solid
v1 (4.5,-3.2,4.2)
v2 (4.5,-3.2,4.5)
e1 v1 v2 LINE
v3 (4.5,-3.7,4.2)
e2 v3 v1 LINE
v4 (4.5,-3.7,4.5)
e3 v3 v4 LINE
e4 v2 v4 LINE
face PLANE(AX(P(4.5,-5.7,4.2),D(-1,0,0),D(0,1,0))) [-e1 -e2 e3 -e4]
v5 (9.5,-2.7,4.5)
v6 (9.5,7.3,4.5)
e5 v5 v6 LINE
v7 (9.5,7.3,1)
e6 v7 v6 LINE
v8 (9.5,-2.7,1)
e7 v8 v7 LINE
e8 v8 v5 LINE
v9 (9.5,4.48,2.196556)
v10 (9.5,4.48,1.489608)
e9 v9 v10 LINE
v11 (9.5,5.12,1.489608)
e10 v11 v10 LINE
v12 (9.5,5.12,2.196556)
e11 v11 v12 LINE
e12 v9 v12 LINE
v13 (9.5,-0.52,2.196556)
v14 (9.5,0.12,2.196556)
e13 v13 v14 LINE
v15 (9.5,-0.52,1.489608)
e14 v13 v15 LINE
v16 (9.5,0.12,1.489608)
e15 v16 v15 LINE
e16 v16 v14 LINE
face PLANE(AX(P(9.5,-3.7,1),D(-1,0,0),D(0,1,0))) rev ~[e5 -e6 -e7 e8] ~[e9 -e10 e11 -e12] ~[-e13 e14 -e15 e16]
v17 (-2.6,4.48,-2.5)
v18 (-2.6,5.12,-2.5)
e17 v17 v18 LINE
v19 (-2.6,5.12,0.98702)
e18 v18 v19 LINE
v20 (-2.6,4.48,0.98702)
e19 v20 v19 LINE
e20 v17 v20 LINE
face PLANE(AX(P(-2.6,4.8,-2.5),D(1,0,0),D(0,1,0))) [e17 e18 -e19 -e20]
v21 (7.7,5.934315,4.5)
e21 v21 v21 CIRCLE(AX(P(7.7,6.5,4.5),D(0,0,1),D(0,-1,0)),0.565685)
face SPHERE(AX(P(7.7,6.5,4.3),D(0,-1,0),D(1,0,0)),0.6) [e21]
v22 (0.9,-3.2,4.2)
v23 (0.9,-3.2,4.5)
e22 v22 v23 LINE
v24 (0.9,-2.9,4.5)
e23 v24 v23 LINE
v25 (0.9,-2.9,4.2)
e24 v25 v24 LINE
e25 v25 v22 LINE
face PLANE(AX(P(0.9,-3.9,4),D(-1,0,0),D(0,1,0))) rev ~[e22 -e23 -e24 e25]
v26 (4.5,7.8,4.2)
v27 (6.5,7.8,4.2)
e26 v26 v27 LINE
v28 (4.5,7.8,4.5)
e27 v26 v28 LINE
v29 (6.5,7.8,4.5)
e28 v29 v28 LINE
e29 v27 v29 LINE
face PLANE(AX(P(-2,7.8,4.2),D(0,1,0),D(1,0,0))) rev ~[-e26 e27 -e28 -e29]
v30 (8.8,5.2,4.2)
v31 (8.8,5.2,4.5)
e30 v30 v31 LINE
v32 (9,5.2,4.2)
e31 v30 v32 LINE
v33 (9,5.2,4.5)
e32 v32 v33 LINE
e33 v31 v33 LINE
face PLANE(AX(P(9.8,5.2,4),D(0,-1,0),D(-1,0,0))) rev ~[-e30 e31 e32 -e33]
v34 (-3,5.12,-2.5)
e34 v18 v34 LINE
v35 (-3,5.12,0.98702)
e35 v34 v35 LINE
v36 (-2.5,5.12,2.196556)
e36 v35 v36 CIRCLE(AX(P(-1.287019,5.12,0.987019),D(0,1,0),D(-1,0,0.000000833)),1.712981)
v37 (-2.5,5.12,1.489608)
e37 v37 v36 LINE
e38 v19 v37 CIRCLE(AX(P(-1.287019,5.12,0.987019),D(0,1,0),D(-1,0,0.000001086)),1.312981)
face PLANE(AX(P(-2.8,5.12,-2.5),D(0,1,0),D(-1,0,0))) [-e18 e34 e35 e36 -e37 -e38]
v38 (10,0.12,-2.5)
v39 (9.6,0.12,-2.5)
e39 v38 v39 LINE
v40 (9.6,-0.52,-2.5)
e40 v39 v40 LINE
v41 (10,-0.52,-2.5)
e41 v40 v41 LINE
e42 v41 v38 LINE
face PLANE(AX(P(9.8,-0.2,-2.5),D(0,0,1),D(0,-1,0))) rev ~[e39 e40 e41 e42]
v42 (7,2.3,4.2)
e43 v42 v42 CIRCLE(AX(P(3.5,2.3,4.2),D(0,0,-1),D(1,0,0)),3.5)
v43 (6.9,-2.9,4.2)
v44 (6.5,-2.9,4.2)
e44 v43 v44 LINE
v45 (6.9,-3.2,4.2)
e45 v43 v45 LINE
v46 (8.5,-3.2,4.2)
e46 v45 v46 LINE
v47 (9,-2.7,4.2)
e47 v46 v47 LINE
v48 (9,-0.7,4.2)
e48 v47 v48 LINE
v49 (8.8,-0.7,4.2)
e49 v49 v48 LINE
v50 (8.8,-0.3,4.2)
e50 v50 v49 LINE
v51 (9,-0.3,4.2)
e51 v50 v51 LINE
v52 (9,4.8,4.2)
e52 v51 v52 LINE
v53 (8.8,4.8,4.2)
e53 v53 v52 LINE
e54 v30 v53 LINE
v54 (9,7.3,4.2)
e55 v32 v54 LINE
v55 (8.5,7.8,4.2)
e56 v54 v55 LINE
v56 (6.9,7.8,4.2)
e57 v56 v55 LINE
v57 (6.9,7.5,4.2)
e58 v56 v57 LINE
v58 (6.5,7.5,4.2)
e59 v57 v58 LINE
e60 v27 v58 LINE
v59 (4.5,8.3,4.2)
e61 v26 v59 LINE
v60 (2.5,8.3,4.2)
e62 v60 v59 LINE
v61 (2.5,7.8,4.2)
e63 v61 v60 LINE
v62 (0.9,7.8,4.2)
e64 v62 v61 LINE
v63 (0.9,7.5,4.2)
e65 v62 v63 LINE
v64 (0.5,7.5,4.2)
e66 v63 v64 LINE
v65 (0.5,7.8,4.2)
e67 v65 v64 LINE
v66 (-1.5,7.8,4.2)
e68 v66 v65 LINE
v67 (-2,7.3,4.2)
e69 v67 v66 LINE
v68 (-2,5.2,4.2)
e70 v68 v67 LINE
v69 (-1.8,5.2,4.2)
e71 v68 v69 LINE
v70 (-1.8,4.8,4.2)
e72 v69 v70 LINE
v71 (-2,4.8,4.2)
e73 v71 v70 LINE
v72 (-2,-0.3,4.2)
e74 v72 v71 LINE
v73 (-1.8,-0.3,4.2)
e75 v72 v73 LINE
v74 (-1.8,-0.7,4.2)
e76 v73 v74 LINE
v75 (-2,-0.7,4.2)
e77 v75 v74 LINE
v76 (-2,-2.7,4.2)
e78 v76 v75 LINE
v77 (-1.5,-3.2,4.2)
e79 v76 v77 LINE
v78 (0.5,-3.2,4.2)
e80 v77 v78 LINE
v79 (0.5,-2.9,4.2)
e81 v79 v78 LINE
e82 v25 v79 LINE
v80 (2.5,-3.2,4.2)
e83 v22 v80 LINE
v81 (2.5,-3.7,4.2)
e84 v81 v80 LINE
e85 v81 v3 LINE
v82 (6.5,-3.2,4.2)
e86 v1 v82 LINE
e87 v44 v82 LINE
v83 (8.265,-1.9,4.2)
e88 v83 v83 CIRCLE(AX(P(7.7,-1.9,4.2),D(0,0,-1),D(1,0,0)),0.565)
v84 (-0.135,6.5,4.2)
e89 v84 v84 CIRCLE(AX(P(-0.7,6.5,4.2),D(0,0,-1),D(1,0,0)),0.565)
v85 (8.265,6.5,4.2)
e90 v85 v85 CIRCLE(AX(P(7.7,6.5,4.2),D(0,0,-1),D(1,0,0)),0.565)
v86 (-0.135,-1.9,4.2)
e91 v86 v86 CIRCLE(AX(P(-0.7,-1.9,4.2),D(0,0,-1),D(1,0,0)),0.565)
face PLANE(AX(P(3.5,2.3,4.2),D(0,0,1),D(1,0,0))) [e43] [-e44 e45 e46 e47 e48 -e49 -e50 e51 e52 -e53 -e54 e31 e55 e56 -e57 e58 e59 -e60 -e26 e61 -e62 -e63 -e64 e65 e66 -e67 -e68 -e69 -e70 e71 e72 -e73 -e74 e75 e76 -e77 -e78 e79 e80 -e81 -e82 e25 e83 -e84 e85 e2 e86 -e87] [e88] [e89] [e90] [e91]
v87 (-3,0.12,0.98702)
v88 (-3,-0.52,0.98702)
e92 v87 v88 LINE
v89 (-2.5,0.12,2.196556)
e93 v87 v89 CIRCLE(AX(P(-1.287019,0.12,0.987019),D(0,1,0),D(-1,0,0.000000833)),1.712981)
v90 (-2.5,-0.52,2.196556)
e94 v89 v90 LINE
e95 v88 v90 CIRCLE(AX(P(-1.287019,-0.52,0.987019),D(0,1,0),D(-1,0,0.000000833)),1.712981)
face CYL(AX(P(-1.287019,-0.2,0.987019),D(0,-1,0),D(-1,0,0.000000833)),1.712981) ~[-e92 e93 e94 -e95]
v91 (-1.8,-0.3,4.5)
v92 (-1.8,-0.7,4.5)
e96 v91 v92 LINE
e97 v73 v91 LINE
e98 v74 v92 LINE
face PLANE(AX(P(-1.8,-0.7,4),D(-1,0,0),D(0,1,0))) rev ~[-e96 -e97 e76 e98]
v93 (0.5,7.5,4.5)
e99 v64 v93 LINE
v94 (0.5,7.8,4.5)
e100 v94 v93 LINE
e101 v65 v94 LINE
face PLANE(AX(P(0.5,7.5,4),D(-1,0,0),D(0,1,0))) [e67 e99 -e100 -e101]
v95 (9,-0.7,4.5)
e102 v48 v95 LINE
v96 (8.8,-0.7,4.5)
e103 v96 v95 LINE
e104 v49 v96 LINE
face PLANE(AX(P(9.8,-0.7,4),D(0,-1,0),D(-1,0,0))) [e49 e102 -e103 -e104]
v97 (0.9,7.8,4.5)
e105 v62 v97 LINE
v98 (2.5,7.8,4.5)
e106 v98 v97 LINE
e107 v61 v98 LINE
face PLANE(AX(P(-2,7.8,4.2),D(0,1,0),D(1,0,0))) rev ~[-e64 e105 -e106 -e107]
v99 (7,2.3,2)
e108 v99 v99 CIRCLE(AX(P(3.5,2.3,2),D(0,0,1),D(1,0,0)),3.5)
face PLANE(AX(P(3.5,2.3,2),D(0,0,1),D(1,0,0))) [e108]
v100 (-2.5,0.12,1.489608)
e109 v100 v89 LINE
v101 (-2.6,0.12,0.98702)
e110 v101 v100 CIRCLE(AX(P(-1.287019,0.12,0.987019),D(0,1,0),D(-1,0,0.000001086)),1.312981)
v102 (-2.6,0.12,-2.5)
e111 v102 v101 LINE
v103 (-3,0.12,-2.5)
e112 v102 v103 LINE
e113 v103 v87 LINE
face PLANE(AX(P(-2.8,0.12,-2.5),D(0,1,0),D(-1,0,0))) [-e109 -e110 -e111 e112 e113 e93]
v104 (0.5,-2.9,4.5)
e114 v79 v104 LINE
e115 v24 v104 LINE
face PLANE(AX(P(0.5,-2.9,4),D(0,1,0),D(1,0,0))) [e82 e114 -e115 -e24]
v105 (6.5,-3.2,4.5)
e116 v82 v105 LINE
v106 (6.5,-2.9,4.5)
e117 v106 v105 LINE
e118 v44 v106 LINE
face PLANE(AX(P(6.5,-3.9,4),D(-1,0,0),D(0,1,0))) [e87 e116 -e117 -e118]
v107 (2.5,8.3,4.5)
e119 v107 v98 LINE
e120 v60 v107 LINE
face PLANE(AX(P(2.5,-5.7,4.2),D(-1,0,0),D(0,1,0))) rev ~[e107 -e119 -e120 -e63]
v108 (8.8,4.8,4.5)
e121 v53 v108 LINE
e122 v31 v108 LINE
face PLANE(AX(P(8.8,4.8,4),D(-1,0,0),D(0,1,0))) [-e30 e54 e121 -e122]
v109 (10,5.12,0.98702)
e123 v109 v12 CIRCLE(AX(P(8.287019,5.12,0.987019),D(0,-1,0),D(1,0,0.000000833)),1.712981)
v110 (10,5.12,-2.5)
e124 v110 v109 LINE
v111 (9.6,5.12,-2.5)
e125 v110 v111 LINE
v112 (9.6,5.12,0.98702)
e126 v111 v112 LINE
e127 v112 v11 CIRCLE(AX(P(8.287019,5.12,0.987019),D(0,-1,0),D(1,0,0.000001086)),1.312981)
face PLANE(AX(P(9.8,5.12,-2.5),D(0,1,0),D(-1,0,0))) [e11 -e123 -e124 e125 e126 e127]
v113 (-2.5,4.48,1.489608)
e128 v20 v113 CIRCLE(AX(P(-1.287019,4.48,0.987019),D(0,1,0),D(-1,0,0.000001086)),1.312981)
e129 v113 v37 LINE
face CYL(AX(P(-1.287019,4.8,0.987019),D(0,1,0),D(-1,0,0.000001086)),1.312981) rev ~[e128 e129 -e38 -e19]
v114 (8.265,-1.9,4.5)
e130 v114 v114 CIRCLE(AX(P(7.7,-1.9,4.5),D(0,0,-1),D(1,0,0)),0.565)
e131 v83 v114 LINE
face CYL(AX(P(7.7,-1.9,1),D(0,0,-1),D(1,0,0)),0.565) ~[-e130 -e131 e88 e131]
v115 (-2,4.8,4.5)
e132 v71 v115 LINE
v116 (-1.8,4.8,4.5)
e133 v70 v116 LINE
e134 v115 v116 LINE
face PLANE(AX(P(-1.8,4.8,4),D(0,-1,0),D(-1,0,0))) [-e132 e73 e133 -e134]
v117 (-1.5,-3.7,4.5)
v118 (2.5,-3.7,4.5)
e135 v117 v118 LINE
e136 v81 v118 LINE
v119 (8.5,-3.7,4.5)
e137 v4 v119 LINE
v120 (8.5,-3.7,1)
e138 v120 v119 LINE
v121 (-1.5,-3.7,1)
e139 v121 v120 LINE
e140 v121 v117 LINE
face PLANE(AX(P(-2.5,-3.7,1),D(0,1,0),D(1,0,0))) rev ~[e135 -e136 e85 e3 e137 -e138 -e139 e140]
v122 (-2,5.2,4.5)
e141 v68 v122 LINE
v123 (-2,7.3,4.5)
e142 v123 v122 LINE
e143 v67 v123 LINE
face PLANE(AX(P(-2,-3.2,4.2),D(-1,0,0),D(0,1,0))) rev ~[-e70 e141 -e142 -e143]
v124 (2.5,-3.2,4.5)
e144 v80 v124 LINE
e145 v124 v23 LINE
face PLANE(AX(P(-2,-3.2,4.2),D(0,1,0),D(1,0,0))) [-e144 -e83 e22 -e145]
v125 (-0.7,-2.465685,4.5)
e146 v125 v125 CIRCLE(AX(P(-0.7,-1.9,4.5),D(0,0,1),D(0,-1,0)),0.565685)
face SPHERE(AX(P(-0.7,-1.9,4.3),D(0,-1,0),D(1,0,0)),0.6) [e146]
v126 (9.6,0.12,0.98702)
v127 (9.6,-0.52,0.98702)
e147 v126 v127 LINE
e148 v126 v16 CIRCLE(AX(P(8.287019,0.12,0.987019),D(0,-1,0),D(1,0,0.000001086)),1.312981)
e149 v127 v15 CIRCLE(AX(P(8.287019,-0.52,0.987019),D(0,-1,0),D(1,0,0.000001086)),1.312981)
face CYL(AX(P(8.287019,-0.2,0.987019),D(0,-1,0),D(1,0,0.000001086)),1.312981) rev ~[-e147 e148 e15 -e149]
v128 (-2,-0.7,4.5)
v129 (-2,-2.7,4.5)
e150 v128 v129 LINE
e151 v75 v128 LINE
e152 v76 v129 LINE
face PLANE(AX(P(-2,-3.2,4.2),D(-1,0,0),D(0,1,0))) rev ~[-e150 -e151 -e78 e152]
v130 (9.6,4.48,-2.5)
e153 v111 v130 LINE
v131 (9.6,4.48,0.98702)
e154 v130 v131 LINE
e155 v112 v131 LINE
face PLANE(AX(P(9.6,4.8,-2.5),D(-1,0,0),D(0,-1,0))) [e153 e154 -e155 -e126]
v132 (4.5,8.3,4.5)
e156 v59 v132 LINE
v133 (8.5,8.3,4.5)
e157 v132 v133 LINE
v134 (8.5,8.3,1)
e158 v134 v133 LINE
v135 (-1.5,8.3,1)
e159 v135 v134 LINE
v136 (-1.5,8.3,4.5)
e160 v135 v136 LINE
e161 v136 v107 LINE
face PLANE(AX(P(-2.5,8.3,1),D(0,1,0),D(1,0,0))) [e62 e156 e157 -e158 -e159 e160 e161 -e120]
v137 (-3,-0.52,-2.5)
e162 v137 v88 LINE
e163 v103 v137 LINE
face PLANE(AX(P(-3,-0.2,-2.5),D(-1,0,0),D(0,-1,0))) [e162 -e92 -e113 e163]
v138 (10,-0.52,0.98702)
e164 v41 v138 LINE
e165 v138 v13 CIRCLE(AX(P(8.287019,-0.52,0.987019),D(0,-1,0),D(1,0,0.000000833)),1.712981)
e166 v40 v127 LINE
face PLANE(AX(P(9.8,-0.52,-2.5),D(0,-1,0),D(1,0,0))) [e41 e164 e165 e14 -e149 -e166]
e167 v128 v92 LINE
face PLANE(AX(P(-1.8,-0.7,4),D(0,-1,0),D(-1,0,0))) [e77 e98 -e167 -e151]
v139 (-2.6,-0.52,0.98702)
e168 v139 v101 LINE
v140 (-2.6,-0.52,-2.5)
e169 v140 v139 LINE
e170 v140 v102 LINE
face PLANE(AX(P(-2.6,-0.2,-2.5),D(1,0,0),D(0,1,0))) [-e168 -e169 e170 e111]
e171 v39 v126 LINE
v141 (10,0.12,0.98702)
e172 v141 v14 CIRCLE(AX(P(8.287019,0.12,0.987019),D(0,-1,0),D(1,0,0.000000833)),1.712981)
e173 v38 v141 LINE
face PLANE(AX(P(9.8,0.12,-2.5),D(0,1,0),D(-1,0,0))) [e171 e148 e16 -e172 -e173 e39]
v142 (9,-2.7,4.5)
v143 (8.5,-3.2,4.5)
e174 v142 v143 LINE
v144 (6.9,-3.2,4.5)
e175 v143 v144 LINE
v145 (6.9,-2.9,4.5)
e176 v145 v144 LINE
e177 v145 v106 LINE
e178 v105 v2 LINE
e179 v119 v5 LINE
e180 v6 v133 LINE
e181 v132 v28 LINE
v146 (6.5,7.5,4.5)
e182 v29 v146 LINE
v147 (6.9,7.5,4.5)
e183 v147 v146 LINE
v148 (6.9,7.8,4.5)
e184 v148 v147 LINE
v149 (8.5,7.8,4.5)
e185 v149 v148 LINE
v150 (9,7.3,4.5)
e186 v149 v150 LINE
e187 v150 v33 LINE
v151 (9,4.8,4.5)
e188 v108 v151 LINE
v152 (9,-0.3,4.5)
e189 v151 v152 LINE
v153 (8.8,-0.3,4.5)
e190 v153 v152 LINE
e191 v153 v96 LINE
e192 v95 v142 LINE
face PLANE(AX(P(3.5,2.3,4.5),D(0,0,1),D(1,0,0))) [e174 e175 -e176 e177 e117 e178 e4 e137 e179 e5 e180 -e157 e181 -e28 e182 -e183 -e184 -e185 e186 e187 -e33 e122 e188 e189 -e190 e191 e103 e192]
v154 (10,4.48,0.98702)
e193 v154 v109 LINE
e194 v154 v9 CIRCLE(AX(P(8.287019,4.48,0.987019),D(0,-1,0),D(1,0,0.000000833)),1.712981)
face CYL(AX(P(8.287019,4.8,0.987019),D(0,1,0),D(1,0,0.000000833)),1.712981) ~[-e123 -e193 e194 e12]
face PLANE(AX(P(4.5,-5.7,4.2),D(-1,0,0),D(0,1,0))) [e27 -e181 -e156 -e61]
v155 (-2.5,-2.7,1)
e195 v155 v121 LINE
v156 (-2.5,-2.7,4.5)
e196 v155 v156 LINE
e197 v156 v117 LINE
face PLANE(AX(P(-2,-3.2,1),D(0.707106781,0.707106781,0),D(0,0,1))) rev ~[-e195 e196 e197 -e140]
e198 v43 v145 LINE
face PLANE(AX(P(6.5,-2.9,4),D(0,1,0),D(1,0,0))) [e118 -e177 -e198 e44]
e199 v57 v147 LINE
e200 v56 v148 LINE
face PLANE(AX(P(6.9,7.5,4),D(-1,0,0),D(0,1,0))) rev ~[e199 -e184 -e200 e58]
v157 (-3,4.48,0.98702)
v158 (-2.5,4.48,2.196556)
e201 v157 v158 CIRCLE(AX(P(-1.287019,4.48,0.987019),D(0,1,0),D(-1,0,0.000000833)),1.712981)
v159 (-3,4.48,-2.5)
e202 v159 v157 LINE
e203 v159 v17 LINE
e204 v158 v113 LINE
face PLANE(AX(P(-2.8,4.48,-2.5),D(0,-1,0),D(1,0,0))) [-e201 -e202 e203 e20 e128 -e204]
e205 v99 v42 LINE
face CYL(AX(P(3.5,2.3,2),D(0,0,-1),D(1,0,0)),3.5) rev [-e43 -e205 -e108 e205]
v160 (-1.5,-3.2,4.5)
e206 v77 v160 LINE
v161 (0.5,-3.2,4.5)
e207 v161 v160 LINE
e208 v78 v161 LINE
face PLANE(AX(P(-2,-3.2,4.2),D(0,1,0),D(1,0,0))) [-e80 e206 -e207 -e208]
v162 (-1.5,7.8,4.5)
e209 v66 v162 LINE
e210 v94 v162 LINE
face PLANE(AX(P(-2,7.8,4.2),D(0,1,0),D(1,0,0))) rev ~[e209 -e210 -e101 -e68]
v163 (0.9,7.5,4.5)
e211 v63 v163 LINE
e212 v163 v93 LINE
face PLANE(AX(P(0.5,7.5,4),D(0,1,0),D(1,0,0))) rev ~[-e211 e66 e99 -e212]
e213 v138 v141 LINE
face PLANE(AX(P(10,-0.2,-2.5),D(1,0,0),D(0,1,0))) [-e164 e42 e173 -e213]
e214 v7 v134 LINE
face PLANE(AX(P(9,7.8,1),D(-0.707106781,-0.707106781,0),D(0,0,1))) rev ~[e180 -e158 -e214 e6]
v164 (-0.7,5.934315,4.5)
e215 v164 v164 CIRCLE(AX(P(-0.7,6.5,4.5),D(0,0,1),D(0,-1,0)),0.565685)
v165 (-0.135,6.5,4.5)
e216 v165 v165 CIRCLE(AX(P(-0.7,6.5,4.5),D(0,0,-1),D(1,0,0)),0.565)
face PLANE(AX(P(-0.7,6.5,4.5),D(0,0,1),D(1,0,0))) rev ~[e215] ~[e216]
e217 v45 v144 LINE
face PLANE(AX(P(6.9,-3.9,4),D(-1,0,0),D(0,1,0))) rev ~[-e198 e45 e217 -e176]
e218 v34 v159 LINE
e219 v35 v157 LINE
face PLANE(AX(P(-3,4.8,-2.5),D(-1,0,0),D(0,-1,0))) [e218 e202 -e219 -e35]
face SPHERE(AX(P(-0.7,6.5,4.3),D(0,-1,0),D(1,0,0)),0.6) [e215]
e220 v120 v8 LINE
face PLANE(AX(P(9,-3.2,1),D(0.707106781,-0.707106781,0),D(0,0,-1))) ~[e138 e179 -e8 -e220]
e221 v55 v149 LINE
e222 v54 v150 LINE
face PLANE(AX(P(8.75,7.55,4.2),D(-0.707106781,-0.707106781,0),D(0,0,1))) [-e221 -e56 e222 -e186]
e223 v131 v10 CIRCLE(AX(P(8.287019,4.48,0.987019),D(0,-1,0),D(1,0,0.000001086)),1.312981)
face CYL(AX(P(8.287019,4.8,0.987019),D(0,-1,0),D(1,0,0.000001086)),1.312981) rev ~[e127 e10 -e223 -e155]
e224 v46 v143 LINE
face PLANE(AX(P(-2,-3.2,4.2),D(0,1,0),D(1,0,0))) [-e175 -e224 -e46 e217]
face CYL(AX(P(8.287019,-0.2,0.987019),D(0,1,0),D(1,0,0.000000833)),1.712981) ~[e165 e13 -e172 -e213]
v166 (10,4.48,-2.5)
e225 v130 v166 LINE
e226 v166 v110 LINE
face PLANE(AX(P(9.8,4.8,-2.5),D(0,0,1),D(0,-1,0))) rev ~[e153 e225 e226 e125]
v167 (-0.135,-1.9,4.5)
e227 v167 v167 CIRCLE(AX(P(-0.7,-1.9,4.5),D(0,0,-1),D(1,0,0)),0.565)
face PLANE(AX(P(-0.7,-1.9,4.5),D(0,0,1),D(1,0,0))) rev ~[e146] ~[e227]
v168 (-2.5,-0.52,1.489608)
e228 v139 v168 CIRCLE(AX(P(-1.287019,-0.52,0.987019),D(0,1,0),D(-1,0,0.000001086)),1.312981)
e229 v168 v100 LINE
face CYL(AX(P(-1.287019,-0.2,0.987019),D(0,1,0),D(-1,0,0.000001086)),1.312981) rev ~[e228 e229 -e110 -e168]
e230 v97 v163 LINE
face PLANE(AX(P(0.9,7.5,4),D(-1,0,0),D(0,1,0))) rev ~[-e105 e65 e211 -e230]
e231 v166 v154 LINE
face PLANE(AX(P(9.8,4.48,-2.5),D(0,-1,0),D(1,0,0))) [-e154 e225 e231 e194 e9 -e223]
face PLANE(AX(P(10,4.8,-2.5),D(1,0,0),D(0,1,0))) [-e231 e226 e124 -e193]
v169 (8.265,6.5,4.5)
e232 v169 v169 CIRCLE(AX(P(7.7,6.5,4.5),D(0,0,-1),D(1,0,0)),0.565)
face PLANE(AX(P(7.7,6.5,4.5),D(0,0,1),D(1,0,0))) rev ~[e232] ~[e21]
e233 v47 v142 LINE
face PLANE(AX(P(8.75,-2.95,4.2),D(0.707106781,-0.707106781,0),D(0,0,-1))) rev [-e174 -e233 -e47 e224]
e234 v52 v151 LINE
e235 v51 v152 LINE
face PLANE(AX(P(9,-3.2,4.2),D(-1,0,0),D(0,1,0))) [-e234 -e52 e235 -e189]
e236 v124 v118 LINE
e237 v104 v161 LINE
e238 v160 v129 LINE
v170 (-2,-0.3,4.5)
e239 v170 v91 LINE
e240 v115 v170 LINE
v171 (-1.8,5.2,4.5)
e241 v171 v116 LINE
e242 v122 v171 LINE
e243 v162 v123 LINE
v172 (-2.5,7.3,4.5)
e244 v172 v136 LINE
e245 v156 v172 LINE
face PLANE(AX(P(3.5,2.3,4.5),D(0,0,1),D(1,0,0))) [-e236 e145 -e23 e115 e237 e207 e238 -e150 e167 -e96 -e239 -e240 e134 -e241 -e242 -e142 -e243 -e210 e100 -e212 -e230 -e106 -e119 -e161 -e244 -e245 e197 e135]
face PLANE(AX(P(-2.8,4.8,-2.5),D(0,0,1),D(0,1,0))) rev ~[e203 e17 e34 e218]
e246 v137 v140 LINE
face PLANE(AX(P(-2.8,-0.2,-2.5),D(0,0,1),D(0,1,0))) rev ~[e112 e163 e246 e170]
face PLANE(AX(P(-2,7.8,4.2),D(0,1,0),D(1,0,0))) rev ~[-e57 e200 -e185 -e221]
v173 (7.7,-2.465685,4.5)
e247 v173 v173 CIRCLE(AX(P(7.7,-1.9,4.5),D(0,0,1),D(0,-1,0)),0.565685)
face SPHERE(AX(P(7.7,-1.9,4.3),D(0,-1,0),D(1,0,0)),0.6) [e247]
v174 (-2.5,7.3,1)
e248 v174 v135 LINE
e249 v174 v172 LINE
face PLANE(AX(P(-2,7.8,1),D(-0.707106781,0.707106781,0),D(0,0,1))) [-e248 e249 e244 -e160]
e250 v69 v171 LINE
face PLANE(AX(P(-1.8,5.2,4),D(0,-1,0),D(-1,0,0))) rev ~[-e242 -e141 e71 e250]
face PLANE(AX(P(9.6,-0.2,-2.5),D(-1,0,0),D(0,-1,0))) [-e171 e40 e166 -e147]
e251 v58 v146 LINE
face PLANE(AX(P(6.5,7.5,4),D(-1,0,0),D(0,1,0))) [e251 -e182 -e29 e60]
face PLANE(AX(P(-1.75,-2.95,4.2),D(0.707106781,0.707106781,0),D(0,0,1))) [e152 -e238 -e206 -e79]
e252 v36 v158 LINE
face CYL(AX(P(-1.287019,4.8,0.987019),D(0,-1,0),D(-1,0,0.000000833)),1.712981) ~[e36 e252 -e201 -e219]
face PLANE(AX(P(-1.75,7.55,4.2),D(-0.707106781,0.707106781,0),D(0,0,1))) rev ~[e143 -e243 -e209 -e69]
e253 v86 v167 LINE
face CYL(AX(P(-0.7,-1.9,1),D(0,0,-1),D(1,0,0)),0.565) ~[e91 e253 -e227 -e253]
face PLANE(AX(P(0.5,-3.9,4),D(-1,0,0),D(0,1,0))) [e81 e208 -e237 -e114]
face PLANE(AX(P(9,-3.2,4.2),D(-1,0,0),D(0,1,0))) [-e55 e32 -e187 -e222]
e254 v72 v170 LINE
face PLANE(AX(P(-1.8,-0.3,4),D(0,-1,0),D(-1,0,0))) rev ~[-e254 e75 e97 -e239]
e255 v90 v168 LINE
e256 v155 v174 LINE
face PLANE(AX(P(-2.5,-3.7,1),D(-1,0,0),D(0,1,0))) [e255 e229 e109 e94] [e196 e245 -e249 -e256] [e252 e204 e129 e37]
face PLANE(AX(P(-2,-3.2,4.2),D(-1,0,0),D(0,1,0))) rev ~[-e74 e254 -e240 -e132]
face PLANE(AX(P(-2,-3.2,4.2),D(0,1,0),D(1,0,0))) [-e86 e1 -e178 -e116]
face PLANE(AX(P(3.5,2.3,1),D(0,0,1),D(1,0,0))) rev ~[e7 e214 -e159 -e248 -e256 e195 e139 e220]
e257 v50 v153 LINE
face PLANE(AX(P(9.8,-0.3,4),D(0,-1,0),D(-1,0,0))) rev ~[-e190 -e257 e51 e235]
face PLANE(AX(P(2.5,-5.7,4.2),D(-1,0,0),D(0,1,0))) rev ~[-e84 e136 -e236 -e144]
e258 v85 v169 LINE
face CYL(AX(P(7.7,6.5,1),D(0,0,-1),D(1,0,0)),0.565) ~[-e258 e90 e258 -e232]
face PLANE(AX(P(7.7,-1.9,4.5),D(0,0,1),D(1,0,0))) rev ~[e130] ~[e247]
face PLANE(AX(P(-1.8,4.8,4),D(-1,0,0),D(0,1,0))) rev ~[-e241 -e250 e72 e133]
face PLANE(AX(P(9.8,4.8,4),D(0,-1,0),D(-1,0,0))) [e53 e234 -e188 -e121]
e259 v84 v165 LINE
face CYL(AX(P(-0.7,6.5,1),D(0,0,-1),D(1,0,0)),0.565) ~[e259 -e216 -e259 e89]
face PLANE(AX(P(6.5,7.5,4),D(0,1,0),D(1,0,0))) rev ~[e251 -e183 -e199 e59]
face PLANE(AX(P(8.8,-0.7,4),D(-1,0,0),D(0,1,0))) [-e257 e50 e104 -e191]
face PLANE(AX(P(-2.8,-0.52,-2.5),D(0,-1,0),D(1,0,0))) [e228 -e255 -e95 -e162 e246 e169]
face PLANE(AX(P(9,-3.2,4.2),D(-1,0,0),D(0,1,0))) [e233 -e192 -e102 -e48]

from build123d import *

# Parameters (mm, degrees)
SKETCH010_W              = 0.64
SKETCH010_H              = 0.4
SWEEP003_PLACEMENT_ANGLE = 90
SKETCH008_W              = 0.64
SKETCH008_H              = 0.4
SWEEP002_PLACEMENT_ANGLE = -90
SKETCH003_W              = 0.64
SKETCH003_H              = 0.4
SWEEP001_PLACEMENT_ANGLE = -90
CYLINDER017_R            = 3.5
CYLINDER017_DEPTH        = 10
BOX023_W                 = 2
BOX023_H                 = 15
BOX023_DEPTH             = 1
CYLINDER_R               = 0.6
CYLINDER_DEPTH           = 0.2
SPHERE002_ANGLE          = 180
SPHERE002_ROLL_ANGLE     = 90
CYLINDER016_R            = 0.6
CYLINDER016_DEPTH        = 0.2
SPHERE003_ANGLE          = 180
SPHERE003_ROLL_ANGLE     = 90
CYLINDER015_R            = 0.6
CYLINDER015_DEPTH        = 0.2
SPHERE_ANGLE             = 180
SPHERE_ROLL_ANGLE        = 90
CYLINDER007_R            = 0.6
CYLINDER007_DEPTH        = 0.2
SPHERE001_ANGLE          = 180
SPHERE001_ROLL_ANGLE     = 90
CYLINDER005_R            = 0.565
CYLINDER005_DEPTH        = 5
CYLINDER006_R            = 0.565
CYLINDER006_DEPTH        = 5
CYLINDER013_R            = 0.565
CYLINDER013_DEPTH        = 5
CYLINDER009_R            = 0.565
CYLINDER009_DEPTH        = 5
BOX024_W                 = 0.4
BOX024_H                 = 1
BOX024_DEPTH             = 1
BOX024_PLACEMENT_ANGLE   = 90
BOX029_W                 = 0.4
BOX029_H                 = 1
BOX029_DEPTH             = 1
BOX029_PLACEMENT_ANGLE   = 90
BOX019_W                 = 0.4
BOX019_H                 = 1
BOX019_DEPTH             = 1
BOX019_PLACEMENT_ANGLE   = 90
BOX018_W                 = 0.4
BOX018_H                 = 1
BOX018_DEPTH             = 1
BOX018_PLACEMENT_ANGLE   = 90
BOX017_W                 = 0.4
BOX017_H                 = 1
BOX017_DEPTH             = 1
BOX016_W                 = 0.4
BOX016_H                 = 1
BOX016_DEPTH             = 1
BOX028_W                 = 0.4
BOX028_H                 = 1
BOX028_DEPTH             = 1
BOX025_W                 = 0.4
BOX025_H                 = 1
BOX025_DEPTH             = 1
BOX031_W                 = 11
BOX031_H                 = 11
BOX031_DEPTH             = 0.4
CHAMFER006_SIZE          = 0.5
BOX027_W                 = 12
BOX027_H                 = 12
BOX027_DEPTH             = 3.5
CHAMFER007_SIZE          = 1
SKETCH009_W              = 0.64
SKETCH009_H              = 0.4
SWEEP004_PLACEMENT_ANGLE = 90


with BuildPart() as sweep003:
    # Sweep003: sweep along a path in Sketch005
    with BuildLine(Plane.YZ) as sweep003_path:
        Line((0, 0), (0, 3.48702))
        ThreePointArc((0, 3.48702), (-0.443142, 4.556858), (-1.51298, 5))
        Line((-1.51298, 5), (-2, 5))
    # Sketch010 → Sweep003 (sweep)
    with BuildSketch(Plane.XY):
        Rectangle(SKETCH010_W, SKETCH010_H)
    sweep(path=sweep003_path.line)


with BuildPart() as sweep003_1:
    # Sweep003 placement: moved
    add(sweep003.part.moved(Location((-6.3, -2.5, -3.5))).rotate(Axis((-6.3, -2.5, -3.5), (0, 0, 1)), SWEEP003_PLACEMENT_ANGLE))


with BuildPart() as sweep002:
    # Sweep002: sweep along a path in Sketch004
    with BuildLine(Plane.YZ) as sweep002_path:
        Line((0, 0), (0, 3.48702))
        ThreePointArc((0, 3.48702), (-0.443142, 4.556858), (-1.51298, 5))
        Line((-1.51298, 5), (-2, 5))
    # Sketch008 → Sweep002 (sweep)
    with BuildSketch(Plane.XY):
        Rectangle(SKETCH008_W, SKETCH008_H)
    sweep(path=sweep002_path.line)


with BuildPart() as sweep002_1:
    # Sweep002 placement: moved
    add(sweep002.part.moved(Location((6.3, 2.5, -3.5))).rotate(Axis((6.3, 2.5, -3.5), (0, 0, 1)), SWEEP002_PLACEMENT_ANGLE))


with BuildPart() as sweep001:
    # Sweep001: sweep along a path in Sketch002
    with BuildLine(Plane.YZ) as sweep001_path:
        Line((0, 0), (0, 3.48702))
        ThreePointArc((0, 3.48702), (-0.443142, 4.556858), (-1.51298, 5))
        Line((-1.51298, 5), (-2, 5))
    # Sketch003 → Sweep001 (sweep)
    with BuildSketch(Plane.XY):
        Rectangle(SKETCH003_W, SKETCH003_H)
    sweep(path=sweep001_path.line)


with BuildPart() as sweep001_1:
    # Sweep001 placement: moved
    add(sweep001.part.moved(Location((6.3, -2.5, -3.5))).rotate(Axis((6.3, -2.5, -3.5), (0, 0, 1)), SWEEP001_PLACEMENT_ANGLE))


with BuildPart() as cilindro014:
    # Cylinder017 → Cylinder017 (new body)
    with BuildSketch(Plane.XY.offset(1)):
        Circle(CYLINDER017_R)
    extrude(amount=CYLINDER017_DEPTH)


with BuildPart() as cubo017:
    # Box023 → Box023 (new body)
    with BuildSketch(Plane(origin=(-1, -8, 3.2), x_dir=(1, 0, 0), z_dir=(0, 0, 1))):
        with Locations((1, 7.5)):
            Rectangle(BOX023_W, BOX023_H)
    extrude(amount=BOX023_DEPTH)


with BuildPart() as cilindro010:
    # Cylinder → Cylinder (new body)
    with BuildSketch(Plane.XY):
        Circle(CYLINDER_R)
    extrude(amount=CYLINDER_DEPTH)


with BuildPart() as esfera:
    # Sphere002 → Sphere002 (revolve)
    with BuildSketch(Plane.XZ):
        with BuildLine():
            ThreePointArc((0, -0.6), (0.6, 0), (0, 0.6))
            Line((0, 0.6), (0, -0.6))
        make_face()
    revolve(axis=Axis((0, 0, 0), (0, 0, 1)), revolution_arc=SPHERE002_ANGLE)


with BuildPart() as esfera_1:
    # Sphere002 roll: moved
    add(esfera.part.rotate(Axis((0, 0, 0), (1, 0, 0)), SPHERE002_ROLL_ANGLE))


with BuildPart() as esfera_2:
    # Sphere002 placement: moved
    add(esfera_1.part)

    # Cut011: cut Cilindro010
    add(cilindro010.part, mode=Mode.SUBTRACT)


with BuildPart() as esfera_3:
    # Cut011 placement: moved
    add(esfera_2.part.moved(Location((-4.2, 4.2, 3.3))))


with BuildPart() as cilindro013:
    # Cylinder016 → Cylinder016 (new body)
    with BuildSketch(Plane.XY):
        Circle(CYLINDER016_R)
    extrude(amount=CYLINDER016_DEPTH)


with BuildPart() as esfera003:
    # Sphere003 → Sphere003 (revolve)
    with BuildSketch(Plane.XZ):
        with BuildLine():
            ThreePointArc((0, -0.6), (0.6, 0), (0, 0.6))
            Line((0, 0.6), (0, -0.6))
        make_face()
    revolve(axis=Axis((0, 0, 0), (0, 0, 1)), revolution_arc=SPHERE003_ANGLE)


with BuildPart() as esfera003_1:
    # Sphere003 roll: moved
    add(esfera003.part.rotate(Axis((0, 0, 0), (1, 0, 0)), SPHERE003_ROLL_ANGLE))


with BuildPart() as esfera003_2:
    # Sphere003 placement: moved
    add(esfera003_1.part)

    # Cut004: cut Cilindro013
    add(cilindro013.part, mode=Mode.SUBTRACT)


with BuildPart() as esfera003_3:
    # Cut004 placement: moved
    add(esfera003_2.part.moved(Location((-4.2, -4.2, 3.3))))


with BuildPart() as cilindro012:
    # Cylinder015 → Cylinder015 (new body)
    with BuildSketch(Plane.XY):
        Circle(CYLINDER015_R)
    extrude(amount=CYLINDER015_DEPTH)


with BuildPart() as esfera002:
    # Sphere → Sphere (revolve)
    with BuildSketch(Plane.XZ):
        with BuildLine():
            ThreePointArc((0, -0.6), (0.6, 0), (0, 0.6))
            Line((0, 0.6), (0, -0.6))
        make_face()
    revolve(axis=Axis((0, 0, 0), (0, 0, 1)), revolution_arc=SPHERE_ANGLE)


with BuildPart() as esfera002_1:
    # Sphere roll: moved
    add(esfera002.part.rotate(Axis((0, 0, 0), (1, 0, 0)), SPHERE_ROLL_ANGLE))


with BuildPart() as esfera002_2:
    # Sphere placement: moved
    add(esfera002_1.part)

    # Cut005: cut Cilindro012
    add(cilindro012.part, mode=Mode.SUBTRACT)


with BuildPart() as esfera002_3:
    # Cut005 placement: moved
    add(esfera002_2.part.moved(Location((4.2, -4.2, 3.3))))


with BuildPart() as cilindro011:
    # Cylinder007 → Cylinder007 (new body)
    with BuildSketch(Plane.XY):
        Circle(CYLINDER007_R)
    extrude(amount=CYLINDER007_DEPTH)


with BuildPart() as esfera001:
    # Sphere001 → Sphere001 (revolve)
    with BuildSketch(Plane.XZ):
        with BuildLine():
            ThreePointArc((0, -0.6), (0.6, 0), (0, 0.6))
            Line((0, 0.6), (0, -0.6))
        make_face()
    revolve(axis=Axis((0, 0, 0), (0, 0, 1)), revolution_arc=SPHERE001_ANGLE)


with BuildPart() as esfera001_1:
    # Sphere001 roll: moved
    add(esfera001.part.rotate(Axis((0, 0, 0), (1, 0, 0)), SPHERE001_ROLL_ANGLE))


with BuildPart() as esfera001_2:
    # Sphere001 placement: moved
    add(esfera001_1.part)

    # Cut021: cut Cilindro011
    add(cilindro011.part, mode=Mode.SUBTRACT)


with BuildPart() as esfera001_3:
    # Cut021 placement: moved
    add(esfera001_2.part.moved(Location((4.2, 4.2, 3.3))))


with BuildPart() as cilindro005:
    # Cylinder005 → Cylinder005 (new body)
    with BuildSketch(Plane(origin=(4.2, -4.2, 0), x_dir=(1, 0, 0), z_dir=(0, 0, 1))):
        Circle(CYLINDER005_R)
    extrude(amount=CYLINDER005_DEPTH)


with BuildPart() as cilindro004:
    # Cylinder006 → Cylinder006 (new body)
    with BuildSketch(Plane(origin=(-4.2, -4.2, 0), x_dir=(1, 0, 0), z_dir=(0, 0, 1))):
        Circle(CYLINDER006_R)
    extrude(amount=CYLINDER006_DEPTH)


with BuildPart() as cilindro003:
    # Cylinder013 → Cylinder013 (new body)
    with BuildSketch(Plane(origin=(4.2, 4.2, 0), x_dir=(1, 0, 0), z_dir=(0, 0, 1))):
        Circle(CYLINDER013_R)
    extrude(amount=CYLINDER013_DEPTH)


with BuildPart() as cilindro002:
    # Cylinder009 → Cylinder009 (new body)
    with BuildSketch(Plane(origin=(-4.2, 4.2, 0), x_dir=(1, 0, 0), z_dir=(0, 0, 1))):
        Circle(CYLINDER009_R)
    extrude(amount=CYLINDER009_DEPTH)


with BuildPart() as pesta_adinf:
    # Box024 → Box024 (new body)
    with BuildSketch(Plane.XY):
        with Locations((0.2, 0.5)):
            Rectangle(BOX024_W, BOX024_H)
    extrude(amount=BOX024_DEPTH)


with BuildPart() as pesta_adinf_1:
    # Box024 placement: moved
    add(pesta_adinf.part.moved(Location((6.3, -3, 3))).rotate(Axis((6.3, -3, 3), (0, 0, 1)), BOX024_PLACEMENT_ANGLE))


with BuildPart() as pesta_ads:
    # Box029 → Box029 (new body)
    with BuildSketch(Plane.XY):
        with Locations((0.2, 0.5)):
            Rectangle(BOX029_W, BOX029_H)
    extrude(amount=BOX029_DEPTH)


with BuildPart() as pesta_ads_1:
    # Box029 placement: moved
    add(pesta_ads.part.moved(Location((6.3, 2.5, 3))).rotate(Axis((6.3, 2.5, 3), (0, 0, 1)), BOX029_PLACEMENT_ANGLE))


with BuildPart() as pesta_aiinf:
    # Box019 → Box019 (new body)
    with BuildSketch(Plane.XY):
        with Locations((0.2, 0.5)):
            Rectangle(BOX019_W, BOX019_H)
    extrude(amount=BOX019_DEPTH)


with BuildPart() as pesta_aiinf_1:
    # Box019 placement: moved
    add(pesta_aiinf.part.moved(Location((-5.3, -3, 3))).rotate(Axis((-5.3, -3, 3), (0, 0, 1)), BOX019_PLACEMENT_ANGLE))


with BuildPart() as pesta_ais:
    # Box018 → Box018 (new body)
    with BuildSketch(Plane.XY):
        with Locations((0.2, 0.5)):
            Rectangle(BOX018_W, BOX018_H)
    extrude(amount=BOX018_DEPTH)


with BuildPart() as pesta_ais_1:
    # Box018 placement: moved
    add(pesta_ais.part.moved(Location((-5.3, 2.5, 3))).rotate(Axis((-5.3, 2.5, 3), (0, 0, 1)), BOX018_PLACEMENT_ANGLE))


with BuildPart() as pesta_aid:
    # Box017 → Box017 (new body)
    with BuildSketch(Plane(origin=(3, -6.2, 3), x_dir=(1, 0, 0), z_dir=(0, 0, 1))):
        with Locations((0.2, 0.5)):
            Rectangle(BOX017_W, BOX017_H)
    extrude(amount=BOX017_DEPTH)


with BuildPart() as pesta_aii:
    # Box016 → Box016 (new body)
    with BuildSketch(Plane(origin=(-3, -6.2, 3), x_dir=(1, 0, 0), z_dir=(0, 0, 1))):
        with Locations((0.2, 0.5)):
            Rectangle(BOX016_W, BOX016_H)
    extrude(amount=BOX016_DEPTH)


with BuildPart() as pesta_asd:
    # Box028 → Box028 (new body)
    with BuildSketch(Plane(origin=(3, 5.2, 3), x_dir=(1, 0, 0), z_dir=(0, 0, 1))):
        with Locations((0.2, 0.5)):
            Rectangle(BOX028_W, BOX028_H)
    extrude(amount=BOX028_DEPTH)


with BuildPart() as pesta_asi:
    # Box025 → Box025 (new body)
    with BuildSketch(Plane(origin=(-3, 5.2, 3), x_dir=(1, 0, 0), z_dir=(0, 0, 1))):
        with Locations((0.2, 0.5)):
            Rectangle(BOX025_W, BOX025_H)
    extrude(amount=BOX025_DEPTH)


with BuildPart() as chapadiferencia:
    # Box031 → Box031 (new body)
    with BuildSketch(Plane(origin=(-5.5, -5.5, 3.6), x_dir=(1, 0, 0), z_dir=(0, 0, 1))):
        with Locations((5.5, 5.5)):
            Rectangle(BOX031_W, BOX031_H)
    extrude(amount=BOX031_DEPTH)

    # Chamfer006
    chamfer006_edges = [chapadiferencia.edges().sort_by_distance(p)[0] for p in [
        (-5.5, -5.5, 3.8),
        (-5.5, 5.5, 3.8),
        (5.5, -5.5, 3.8),
        (5.5, 5.5, 3.8),
    ]]
    chamfer(chamfer006_edges, length=CHAMFER006_SIZE)


with BuildPart() as chapadiferencia_1:
    # Chamfer006 placement: moved
    add(chapadiferencia.part.moved(Location((0, 0, -0.4))))

    # Cut018: cut pestañaSI
    add(pesta_asi.part, mode=Mode.SUBTRACT)

    # Cut033: cut pestañaSD
    add(pesta_asd.part, mode=Mode.SUBTRACT)

    # Cut022: cut pestañaII
    add(pesta_aii.part, mode=Mode.SUBTRACT)

    # Cut029: cut pestañaID
    add(pesta_aid.part, mode=Mode.SUBTRACT)

    # Cut017: cut pestañaIS
    add(pesta_ais_1.part, mode=Mode.SUBTRACT)

    # Cut009: cut pestañaIInf
    add(pesta_aiinf_1.part, mode=Mode.SUBTRACT)

    # Cut010: cut pestañaDS
    add(pesta_ads_1.part, mode=Mode.SUBTRACT)

    # Cut030: cut pestañaDInf
    add(pesta_adinf_1.part, mode=Mode.SUBTRACT)

    # Cut013: cut Cilindro002
    add(cilindro002.part, mode=Mode.SUBTRACT)

    # Cut012: cut Cilindro003
    add(cilindro003.part, mode=Mode.SUBTRACT)

    # Cut015: cut Cilindro004
    add(cilindro004.part, mode=Mode.SUBTRACT)

    # Cut035: cut Cilindro005
    add(cilindro005.part, mode=Mode.SUBTRACT)


with BuildPart() as cut003:
    # Box027 → Box027 (new body)
    with BuildSketch(Plane.XY):
        with Locations((6, 6)):
            Rectangle(BOX027_W, BOX027_H)
    extrude(amount=BOX027_DEPTH)

    # Chamfer007
    chamfer007_edges = [cut003.edges().sort_by_distance(p)[0] for p in [
        (0, 0, 1.75),
        (0, 12, 1.75),
        (12, 0, 1.75),
        (12, 12, 1.75),
    ]]
    chamfer(chamfer007_edges, length=CHAMFER007_SIZE)


with BuildPart() as cut003_1:
    # Chamfer007 placement: moved
    add(cut003.part.moved(Location((-6, -6, 0))))

    # Cut014: cut ChapaDiferencia
    add(chapadiferencia_1.part, mode=Mode.SUBTRACT)

    # Fusion006: union esfera, esfera003, esfera002, esfera001
    add(esfera_3.part)
    add(esfera003_3.part)
    add(esfera002_3.part)
    add(esfera001_3.part)

    # Cut026: cut Cubo017
    add(cubo017.part, mode=Mode.SUBTRACT)

    # Cut003: cut Cilindro014
    add(cilindro014.part, mode=Mode.SUBTRACT)


with BuildPart() as basepulsador:
    # Sweep004: sweep along a path in Sketch006
    with BuildLine(Plane.YZ) as sweep004_path:
        Line((0, 0), (0, 3.48702))
        ThreePointArc((0, 3.48702), (-0.443142, 4.556858), (-1.51298, 5))
        Line((-1.51298, 5), (-2, 5))
    # Sketch009 → Sweep004 (sweep)
    with BuildSketch(Plane.XY):
        Rectangle(SKETCH009_W, SKETCH009_H)
    sweep(path=sweep004_path.line)


with BuildPart() as basepulsador_1:
    # Sweep004 placement: moved
    add(basepulsador.part.moved(Location((-6.3, 2.5, -3.5))).rotate(Axis((-6.3, 2.5, -3.5), (0, 0, 1)), SWEEP004_PLACEMENT_ANGLE))

    # Fusion003: union Sweep003, Sweep002, Sweep001, Cut003
    add(sweep003_1.part)
    add(sweep002_1.part)
    add(sweep001_1.part)
    add(cut003_1.part)


with BuildPart() as basepulsador_2:
    # Fusion003 placement: moved
    add(basepulsador_1.part.moved(Location((3.5, 2.3, 1))))


solid = basepulsador_2.part
